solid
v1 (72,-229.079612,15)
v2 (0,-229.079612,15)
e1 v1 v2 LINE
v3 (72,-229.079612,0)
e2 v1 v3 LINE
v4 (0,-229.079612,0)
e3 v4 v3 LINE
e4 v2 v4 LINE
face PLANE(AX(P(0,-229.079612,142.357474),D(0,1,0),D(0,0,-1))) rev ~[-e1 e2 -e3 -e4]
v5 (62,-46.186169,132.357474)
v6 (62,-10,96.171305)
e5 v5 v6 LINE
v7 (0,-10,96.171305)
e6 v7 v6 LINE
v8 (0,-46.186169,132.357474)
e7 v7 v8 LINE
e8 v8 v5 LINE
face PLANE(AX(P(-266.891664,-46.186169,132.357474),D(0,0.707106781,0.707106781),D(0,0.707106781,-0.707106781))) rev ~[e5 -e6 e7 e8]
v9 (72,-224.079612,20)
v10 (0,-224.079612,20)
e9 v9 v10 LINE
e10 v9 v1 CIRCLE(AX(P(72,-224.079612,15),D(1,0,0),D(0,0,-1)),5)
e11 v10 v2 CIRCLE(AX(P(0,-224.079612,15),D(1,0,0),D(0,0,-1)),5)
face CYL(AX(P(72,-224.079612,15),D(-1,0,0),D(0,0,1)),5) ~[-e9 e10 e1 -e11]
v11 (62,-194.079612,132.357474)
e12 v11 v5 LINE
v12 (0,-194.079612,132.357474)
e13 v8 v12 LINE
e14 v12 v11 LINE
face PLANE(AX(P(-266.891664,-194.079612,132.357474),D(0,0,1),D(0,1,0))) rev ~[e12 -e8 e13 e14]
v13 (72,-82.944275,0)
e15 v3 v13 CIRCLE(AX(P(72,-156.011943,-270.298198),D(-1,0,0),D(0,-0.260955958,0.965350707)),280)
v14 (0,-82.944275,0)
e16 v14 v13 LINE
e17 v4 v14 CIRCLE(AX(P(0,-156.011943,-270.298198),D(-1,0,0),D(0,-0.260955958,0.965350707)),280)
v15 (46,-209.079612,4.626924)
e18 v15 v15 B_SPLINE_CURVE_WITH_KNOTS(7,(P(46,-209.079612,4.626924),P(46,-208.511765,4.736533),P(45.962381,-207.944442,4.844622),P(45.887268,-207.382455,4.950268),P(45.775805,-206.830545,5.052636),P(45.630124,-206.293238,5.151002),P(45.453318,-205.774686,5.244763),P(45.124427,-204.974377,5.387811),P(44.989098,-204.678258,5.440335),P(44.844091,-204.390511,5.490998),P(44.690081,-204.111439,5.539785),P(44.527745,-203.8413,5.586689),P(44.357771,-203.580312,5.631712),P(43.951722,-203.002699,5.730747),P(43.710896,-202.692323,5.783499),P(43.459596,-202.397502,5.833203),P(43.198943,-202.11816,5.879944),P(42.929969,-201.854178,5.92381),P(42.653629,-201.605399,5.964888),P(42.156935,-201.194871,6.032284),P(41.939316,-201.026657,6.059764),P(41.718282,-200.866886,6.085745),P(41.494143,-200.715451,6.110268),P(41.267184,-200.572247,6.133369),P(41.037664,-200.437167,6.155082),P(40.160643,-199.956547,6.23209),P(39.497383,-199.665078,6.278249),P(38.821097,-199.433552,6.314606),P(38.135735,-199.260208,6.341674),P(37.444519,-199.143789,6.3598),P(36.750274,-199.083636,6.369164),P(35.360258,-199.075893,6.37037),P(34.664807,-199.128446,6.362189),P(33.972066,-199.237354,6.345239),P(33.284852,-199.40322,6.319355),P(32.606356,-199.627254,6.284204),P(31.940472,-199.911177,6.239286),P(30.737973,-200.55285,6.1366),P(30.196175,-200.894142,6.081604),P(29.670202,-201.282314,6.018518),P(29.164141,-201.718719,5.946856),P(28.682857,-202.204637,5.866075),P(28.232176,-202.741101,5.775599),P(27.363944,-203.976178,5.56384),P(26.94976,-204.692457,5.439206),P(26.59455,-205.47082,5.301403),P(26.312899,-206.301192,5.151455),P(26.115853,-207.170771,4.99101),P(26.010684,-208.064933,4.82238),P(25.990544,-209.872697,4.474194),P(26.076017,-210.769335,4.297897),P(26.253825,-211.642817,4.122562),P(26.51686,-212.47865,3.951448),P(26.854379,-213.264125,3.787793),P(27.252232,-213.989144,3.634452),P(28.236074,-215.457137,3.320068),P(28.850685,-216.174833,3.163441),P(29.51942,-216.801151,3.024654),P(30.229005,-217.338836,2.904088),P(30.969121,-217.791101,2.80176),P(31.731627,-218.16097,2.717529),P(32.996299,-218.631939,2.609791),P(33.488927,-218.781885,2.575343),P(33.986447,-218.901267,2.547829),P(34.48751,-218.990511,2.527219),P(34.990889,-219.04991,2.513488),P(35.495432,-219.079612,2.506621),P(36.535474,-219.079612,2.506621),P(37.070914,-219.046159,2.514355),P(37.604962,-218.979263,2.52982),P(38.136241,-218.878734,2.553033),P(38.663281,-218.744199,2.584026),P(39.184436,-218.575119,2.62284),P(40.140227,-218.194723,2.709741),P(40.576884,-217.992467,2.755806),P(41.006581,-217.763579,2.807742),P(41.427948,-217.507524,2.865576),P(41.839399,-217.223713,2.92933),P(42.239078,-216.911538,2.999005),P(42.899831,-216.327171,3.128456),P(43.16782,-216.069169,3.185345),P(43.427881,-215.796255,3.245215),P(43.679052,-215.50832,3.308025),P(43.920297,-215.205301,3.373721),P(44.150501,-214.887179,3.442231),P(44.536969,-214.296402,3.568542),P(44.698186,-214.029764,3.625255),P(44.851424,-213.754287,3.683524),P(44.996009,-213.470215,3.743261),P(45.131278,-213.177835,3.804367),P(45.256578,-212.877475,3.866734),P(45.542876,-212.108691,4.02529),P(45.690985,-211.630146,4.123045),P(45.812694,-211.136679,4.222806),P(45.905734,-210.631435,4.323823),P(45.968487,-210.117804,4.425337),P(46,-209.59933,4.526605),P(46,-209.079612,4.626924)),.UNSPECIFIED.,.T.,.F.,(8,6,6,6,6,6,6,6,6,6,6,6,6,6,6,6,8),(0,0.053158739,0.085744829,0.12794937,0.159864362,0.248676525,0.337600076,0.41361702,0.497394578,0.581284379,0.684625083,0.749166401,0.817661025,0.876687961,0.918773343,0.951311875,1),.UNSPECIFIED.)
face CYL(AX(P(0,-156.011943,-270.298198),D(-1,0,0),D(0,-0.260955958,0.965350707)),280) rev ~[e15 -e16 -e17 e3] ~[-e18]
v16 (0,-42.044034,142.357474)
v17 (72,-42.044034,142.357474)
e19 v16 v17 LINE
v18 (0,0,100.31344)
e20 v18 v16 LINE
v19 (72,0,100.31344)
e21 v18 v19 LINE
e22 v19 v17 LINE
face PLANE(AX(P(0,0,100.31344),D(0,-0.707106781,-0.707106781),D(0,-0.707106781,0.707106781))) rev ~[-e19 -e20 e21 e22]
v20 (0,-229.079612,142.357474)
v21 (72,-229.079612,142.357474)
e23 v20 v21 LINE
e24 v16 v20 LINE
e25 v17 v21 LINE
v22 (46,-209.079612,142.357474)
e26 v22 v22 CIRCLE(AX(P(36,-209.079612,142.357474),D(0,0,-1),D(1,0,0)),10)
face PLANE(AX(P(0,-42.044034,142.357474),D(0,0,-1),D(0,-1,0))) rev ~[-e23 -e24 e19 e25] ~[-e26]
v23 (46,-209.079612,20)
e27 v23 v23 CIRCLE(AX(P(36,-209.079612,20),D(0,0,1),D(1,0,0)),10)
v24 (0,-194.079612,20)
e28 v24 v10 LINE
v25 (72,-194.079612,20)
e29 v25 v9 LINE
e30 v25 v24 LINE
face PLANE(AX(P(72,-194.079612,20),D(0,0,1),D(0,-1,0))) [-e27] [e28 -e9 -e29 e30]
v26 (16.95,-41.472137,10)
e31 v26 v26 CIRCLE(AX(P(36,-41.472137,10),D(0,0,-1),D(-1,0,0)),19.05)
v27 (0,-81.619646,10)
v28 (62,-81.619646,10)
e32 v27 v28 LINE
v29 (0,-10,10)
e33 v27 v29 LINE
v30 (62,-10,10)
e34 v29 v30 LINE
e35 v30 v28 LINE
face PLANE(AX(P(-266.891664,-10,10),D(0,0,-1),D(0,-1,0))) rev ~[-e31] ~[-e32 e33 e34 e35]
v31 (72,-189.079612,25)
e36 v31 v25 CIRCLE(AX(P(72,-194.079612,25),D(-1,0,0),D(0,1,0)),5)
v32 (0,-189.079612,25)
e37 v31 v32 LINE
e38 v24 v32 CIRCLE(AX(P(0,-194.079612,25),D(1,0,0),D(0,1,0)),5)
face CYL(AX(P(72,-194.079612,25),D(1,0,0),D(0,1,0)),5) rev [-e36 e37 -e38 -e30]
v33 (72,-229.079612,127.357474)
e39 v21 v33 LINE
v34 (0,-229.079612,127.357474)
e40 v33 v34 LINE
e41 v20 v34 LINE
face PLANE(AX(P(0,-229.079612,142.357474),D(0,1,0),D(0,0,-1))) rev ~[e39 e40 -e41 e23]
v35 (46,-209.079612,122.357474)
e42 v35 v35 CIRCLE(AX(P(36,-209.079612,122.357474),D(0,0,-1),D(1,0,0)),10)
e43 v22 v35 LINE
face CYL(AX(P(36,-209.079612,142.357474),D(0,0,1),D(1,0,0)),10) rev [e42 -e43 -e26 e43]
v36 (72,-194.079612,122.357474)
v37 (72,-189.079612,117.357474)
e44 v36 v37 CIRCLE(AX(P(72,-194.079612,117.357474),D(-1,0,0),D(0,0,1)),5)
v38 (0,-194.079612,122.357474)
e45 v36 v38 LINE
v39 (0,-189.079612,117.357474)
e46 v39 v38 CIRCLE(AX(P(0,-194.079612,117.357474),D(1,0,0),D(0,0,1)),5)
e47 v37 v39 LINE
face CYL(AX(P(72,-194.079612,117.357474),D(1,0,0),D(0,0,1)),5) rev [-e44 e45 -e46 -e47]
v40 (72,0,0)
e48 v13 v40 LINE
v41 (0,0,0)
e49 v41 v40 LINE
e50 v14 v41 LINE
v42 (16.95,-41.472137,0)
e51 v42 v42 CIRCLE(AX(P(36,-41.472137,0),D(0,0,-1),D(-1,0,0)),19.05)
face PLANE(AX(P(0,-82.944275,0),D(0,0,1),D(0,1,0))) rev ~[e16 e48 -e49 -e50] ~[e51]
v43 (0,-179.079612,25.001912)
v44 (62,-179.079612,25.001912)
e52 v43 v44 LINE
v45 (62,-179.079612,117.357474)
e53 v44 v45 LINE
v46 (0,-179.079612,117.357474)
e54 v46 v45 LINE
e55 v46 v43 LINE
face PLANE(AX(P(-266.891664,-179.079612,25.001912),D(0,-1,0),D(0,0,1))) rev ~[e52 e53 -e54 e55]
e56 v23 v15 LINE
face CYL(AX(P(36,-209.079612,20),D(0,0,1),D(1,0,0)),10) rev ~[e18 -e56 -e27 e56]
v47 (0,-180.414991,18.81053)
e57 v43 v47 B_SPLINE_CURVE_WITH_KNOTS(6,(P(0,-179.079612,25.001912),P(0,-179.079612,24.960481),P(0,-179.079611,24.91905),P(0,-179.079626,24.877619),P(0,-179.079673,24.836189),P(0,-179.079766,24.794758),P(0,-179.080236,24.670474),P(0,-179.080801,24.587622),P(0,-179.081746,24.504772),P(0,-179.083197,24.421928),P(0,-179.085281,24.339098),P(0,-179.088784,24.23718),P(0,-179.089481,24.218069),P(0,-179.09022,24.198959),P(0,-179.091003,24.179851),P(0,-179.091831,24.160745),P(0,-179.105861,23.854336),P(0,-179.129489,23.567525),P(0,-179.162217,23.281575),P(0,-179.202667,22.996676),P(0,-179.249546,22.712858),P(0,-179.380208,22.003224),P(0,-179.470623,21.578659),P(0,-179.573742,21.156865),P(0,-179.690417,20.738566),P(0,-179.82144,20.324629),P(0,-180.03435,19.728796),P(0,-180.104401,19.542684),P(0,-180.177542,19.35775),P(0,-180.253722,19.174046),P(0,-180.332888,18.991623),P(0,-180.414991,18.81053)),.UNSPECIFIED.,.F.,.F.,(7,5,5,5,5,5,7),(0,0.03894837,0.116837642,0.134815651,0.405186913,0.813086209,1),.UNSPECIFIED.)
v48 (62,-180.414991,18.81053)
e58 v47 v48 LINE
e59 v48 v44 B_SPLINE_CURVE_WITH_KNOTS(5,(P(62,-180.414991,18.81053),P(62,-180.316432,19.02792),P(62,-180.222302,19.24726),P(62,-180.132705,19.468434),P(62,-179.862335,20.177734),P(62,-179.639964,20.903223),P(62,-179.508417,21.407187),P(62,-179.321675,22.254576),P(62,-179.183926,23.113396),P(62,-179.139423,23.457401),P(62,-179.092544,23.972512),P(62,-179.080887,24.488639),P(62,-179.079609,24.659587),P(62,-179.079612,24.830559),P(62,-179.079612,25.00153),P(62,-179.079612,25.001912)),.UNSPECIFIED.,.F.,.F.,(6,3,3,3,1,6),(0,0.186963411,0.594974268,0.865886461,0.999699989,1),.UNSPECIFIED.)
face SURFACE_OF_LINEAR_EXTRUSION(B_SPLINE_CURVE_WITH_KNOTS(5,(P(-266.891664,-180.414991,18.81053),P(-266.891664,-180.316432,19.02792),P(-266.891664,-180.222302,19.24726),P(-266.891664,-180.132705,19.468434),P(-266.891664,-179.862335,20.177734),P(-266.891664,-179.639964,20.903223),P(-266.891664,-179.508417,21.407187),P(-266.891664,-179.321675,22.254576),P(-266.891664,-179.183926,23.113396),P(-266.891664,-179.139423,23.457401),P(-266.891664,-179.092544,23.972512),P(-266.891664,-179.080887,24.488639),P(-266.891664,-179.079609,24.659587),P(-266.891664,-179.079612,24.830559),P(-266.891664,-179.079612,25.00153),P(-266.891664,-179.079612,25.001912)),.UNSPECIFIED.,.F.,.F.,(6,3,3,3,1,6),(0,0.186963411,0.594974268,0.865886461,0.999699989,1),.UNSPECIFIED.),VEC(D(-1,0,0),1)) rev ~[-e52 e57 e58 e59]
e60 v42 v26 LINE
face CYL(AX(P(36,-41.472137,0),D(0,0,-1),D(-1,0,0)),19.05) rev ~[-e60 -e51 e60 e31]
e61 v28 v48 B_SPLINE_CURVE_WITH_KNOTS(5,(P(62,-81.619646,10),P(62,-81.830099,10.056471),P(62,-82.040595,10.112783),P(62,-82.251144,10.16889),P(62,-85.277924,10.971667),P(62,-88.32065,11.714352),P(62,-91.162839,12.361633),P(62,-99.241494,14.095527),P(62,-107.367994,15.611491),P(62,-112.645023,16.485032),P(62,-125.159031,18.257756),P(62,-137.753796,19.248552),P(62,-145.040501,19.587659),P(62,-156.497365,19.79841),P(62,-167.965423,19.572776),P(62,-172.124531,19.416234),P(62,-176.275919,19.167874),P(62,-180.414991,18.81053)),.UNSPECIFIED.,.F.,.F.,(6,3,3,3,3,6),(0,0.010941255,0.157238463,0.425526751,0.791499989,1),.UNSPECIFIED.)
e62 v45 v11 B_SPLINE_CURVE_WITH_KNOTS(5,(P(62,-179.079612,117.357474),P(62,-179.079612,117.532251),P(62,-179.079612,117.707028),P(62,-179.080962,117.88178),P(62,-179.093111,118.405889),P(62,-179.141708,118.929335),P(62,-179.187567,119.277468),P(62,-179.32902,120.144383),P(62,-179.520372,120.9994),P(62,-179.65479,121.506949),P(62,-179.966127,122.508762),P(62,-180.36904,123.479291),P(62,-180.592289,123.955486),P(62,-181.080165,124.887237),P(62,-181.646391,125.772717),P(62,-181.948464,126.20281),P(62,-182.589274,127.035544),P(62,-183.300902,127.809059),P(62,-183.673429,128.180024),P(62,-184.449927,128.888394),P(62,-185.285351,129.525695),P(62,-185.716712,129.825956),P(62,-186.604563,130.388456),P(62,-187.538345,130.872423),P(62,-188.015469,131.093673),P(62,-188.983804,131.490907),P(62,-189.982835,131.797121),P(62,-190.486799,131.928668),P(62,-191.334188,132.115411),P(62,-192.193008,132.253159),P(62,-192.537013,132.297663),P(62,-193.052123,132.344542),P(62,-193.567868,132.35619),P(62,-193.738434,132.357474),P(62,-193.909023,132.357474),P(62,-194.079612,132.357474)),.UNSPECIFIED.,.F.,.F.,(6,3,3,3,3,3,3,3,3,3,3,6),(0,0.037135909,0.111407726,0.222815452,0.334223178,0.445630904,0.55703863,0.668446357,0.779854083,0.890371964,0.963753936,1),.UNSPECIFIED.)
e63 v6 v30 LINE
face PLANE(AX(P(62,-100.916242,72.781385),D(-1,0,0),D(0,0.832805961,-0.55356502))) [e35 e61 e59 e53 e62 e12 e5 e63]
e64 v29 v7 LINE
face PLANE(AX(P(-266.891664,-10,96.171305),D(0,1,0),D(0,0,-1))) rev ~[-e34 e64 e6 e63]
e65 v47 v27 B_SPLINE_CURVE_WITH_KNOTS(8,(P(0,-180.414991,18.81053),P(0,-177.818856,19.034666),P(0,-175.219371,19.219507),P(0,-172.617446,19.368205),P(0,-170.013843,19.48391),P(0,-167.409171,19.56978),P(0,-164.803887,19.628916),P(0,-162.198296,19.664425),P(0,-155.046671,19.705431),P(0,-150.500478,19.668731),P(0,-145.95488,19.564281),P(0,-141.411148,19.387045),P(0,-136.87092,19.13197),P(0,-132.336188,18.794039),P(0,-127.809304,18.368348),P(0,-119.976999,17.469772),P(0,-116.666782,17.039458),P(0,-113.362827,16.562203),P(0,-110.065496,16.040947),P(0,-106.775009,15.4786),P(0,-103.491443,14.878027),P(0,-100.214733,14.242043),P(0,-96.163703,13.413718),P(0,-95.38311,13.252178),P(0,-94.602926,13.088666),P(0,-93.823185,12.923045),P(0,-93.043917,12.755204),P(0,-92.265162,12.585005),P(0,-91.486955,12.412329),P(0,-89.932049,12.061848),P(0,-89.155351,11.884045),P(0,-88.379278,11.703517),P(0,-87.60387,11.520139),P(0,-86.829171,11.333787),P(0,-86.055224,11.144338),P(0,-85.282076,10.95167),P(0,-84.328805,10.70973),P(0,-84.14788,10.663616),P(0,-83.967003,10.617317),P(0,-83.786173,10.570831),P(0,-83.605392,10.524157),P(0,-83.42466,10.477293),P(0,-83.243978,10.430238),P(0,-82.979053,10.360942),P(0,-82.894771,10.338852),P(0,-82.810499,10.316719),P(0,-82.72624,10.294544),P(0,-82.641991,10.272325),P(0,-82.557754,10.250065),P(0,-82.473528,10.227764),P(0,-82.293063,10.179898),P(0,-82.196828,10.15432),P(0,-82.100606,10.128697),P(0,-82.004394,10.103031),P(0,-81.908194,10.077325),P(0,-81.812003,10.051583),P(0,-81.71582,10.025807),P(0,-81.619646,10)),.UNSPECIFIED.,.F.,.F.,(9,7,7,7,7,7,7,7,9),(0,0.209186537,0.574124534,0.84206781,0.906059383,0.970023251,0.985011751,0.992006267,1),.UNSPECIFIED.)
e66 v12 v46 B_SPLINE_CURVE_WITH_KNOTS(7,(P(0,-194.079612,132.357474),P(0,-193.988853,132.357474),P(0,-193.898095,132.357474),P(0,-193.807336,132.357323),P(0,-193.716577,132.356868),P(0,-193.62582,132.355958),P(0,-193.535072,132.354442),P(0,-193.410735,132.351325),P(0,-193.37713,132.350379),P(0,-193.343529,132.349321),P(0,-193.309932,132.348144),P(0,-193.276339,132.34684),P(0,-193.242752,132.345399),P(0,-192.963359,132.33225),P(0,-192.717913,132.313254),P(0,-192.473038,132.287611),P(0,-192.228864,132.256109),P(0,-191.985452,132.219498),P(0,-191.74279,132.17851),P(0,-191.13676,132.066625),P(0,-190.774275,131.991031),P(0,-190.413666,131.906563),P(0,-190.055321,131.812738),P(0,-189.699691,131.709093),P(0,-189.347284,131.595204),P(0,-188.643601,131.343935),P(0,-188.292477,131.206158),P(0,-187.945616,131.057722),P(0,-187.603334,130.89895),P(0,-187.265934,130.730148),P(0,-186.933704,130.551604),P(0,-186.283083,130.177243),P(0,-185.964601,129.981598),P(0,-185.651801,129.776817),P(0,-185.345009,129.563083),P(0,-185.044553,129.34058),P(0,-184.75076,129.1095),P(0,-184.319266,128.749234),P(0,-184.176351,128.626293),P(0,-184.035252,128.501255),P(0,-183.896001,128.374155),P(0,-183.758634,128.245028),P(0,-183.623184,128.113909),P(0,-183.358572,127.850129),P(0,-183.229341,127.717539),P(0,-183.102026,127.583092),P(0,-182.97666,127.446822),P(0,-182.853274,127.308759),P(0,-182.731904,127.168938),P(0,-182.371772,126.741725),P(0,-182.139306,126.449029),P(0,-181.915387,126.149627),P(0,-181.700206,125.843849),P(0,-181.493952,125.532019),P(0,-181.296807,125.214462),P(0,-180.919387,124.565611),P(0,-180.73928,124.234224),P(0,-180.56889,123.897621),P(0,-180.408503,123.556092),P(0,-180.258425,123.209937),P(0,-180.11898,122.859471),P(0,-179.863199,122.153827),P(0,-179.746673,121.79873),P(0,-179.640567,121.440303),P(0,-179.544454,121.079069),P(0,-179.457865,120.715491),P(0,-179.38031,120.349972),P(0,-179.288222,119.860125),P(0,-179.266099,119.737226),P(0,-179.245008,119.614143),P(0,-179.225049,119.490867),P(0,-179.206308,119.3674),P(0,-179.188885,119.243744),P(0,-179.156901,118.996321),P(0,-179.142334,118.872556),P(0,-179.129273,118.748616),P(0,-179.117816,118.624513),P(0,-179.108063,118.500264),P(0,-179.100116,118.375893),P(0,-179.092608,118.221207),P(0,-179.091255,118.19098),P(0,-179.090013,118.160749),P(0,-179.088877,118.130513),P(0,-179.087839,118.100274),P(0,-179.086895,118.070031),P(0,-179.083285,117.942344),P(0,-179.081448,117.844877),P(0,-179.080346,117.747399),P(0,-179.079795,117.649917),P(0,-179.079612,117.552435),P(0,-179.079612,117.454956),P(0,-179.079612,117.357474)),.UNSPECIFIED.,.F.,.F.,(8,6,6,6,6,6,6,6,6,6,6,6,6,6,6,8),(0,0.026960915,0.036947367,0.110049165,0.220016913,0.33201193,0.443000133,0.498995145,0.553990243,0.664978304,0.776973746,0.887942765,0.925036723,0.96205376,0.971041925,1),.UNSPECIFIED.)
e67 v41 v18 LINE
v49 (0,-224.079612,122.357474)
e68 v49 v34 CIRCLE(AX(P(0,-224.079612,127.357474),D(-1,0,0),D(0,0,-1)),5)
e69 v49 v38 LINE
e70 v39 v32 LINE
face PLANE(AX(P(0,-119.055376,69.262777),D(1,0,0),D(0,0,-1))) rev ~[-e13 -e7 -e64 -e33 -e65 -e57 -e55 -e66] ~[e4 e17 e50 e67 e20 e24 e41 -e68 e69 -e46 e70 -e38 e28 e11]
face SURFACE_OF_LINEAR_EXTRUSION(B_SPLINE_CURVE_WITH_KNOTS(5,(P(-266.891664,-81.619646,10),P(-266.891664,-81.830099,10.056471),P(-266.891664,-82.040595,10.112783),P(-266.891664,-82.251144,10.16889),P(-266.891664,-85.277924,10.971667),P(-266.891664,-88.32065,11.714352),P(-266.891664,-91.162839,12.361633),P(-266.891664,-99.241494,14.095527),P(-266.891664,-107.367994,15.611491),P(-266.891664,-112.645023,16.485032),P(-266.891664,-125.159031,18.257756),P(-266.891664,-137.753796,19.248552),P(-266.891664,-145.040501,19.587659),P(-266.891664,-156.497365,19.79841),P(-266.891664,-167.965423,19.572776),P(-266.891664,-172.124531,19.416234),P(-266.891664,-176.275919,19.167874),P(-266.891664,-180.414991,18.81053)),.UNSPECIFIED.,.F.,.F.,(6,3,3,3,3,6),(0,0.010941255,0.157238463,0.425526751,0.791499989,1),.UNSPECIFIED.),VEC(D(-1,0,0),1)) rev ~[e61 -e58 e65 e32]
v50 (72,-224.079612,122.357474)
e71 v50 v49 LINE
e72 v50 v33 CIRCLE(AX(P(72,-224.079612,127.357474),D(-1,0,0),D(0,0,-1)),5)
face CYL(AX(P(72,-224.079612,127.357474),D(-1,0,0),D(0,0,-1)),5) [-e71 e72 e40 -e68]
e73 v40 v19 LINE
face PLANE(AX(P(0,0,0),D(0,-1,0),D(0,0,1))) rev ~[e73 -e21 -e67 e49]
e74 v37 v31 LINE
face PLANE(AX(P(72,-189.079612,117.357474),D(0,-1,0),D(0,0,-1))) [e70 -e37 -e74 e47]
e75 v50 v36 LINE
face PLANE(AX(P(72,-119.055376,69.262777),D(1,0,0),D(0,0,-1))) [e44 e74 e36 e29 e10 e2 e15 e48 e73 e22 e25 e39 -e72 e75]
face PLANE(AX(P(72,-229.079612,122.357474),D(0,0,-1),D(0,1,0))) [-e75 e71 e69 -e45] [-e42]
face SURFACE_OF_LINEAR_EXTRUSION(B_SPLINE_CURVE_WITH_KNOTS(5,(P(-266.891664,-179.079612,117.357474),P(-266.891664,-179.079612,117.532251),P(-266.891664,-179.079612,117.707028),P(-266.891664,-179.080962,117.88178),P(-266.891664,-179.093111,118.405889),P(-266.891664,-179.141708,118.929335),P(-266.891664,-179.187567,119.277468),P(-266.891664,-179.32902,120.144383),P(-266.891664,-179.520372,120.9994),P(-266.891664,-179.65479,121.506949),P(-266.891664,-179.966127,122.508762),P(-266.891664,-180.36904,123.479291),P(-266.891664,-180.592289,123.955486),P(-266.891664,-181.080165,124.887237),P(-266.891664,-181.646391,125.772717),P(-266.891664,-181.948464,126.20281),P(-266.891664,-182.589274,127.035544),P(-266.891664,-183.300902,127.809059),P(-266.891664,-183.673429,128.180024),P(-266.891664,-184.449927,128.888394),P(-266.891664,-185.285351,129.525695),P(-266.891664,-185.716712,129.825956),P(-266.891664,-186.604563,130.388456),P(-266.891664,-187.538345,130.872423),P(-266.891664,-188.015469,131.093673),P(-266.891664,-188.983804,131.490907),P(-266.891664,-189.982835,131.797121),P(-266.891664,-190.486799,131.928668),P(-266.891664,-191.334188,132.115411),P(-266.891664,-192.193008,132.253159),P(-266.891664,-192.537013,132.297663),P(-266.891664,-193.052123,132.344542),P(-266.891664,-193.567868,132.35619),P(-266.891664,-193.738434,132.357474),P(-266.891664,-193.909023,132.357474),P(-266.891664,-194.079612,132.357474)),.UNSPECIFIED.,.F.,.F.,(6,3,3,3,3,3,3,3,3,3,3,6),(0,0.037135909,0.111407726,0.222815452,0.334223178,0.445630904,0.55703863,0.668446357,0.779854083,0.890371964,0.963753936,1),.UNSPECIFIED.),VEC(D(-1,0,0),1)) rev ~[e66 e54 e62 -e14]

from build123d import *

# Parameters (mm, degrees)
BOSS_EXTRUDE1_DEPTH     = 72
SKETCH4_R               = 19.05
CUT_EXTRUDE1_DEPTH      = 15
CUT_EXTRUDE2_DEPTH      = 280.154292263
CUT_EXTRUDE2_DEPTH_BACK = 72
FILLET2_R               = 5
FILLET3_R               = 5
SKETCH7_R               = 10
CUT_EXTRUDE3_DEPTH      = 20
CUT_EXTRUDE4_START      = -20
SKETCH8_R               = 10
CUT_EXTRUDE4_DEPTH      = 20
CUT_EXTRUDE5_DEPTH      = 62
CUT_EXTRUDE5_DEPTH_BACK = 266.891664466


with BuildPart() as part:
    # Sketch3 → Boss-Extrude1 (new body)
    with BuildSketch(Plane(origin=(0, 0, 0), x_dir=(0, 0, -1), z_dir=(1, 0, 0))):
        with BuildLine():
            Line((0, 0), (-100.313440323, 0))
            Line((-100.313440323, 0), (-142.357474116, -42.044033793))
            Line((-142.357474116, -42.044033793), (-142.357474116, -229.079611603))
            Line((-142.357474116, -229.079611603), (0, -229.079611603))
            ThreePointArc((0, -229.079611603), (-9.701802008, -156.011943225), (0, -82.944274847))
            Line((0, -82.944274847), (0, 0))
        make_face()
    extrude(amount=BOSS_EXTRUDE1_DEPTH)

    # Sketch4 → Cut-Extrude1 (cut)
    with BuildSketch(Plane(origin=(0, 0, 0), x_dir=(-1, 0, 0), z_dir=(0, 0, -1))):
        with Locations((-36, -41.472137424)):
            Circle(SKETCH4_R)
    extrude(amount=-CUT_EXTRUDE1_DEPTH, mode=Mode.SUBTRACT)

    # Sketch6 → Cut-Extrude2 (cut, two sides: drawn at the far end of the back side and taken through both)
    with BuildSketch(Plane.ZY.offset(-CUT_EXTRUDE2_DEPTH_BACK)):
        with BuildLine():
            Line((20, -194.079611603), (20, -229.079611603))
            Line((20, -229.079611603), (122.357474116, -229.079611603))
            Line((122.357474116, -229.079611603), (122.357474116, -194.079611603))
            ThreePointArc((122.357474116, -194.079611603), (120.893008022, -190.544077697), (117.357474116, -189.079611603))
            Line((117.357474116, -189.079611603), (25, -189.079611603))
            ThreePointArc((25, -189.079611603), (21.464466094, -190.544077697), (20, -194.079611603))
        make_face()
    extrude(amount=CUT_EXTRUDE2_DEPTH + CUT_EXTRUDE2_DEPTH_BACK, mode=Mode.SUBTRACT)

    # Fillet2
    fillet2_edges = [part.edges().sort_by_distance(p)[0] for p in [
        (36, -229.079611603, 122.357474116),
    ]]
    fillet(fillet2_edges, radius=FILLET2_R)

    # Fillet3
    fillet3_edges = [part.edges().sort_by_distance(p)[0] for p in [
        (36, -229.079611603, 20),
    ]]
    fillet(fillet3_edges, radius=FILLET3_R)

    # Sketch7 → Cut-Extrude3 (cut)
    with BuildSketch(Plane.XY.offset(20)):
        with Locations((36, -209.079611603)):
            Circle(SKETCH7_R)
    extrude(amount=-CUT_EXTRUDE3_DEPTH, mode=Mode.SUBTRACT)

    # Sketch8 → Cut-Extrude4 (cut)
    with BuildSketch(Plane(origin=(0, 0, 122.357474116), x_dir=(-1, 0, 0), z_dir=(0, 0, -1)).offset(CUT_EXTRUDE4_START)):
        with Locations(Location((-36, -209.079611603, 0), (0, 0, 180))):
            Circle(SKETCH8_R)
    extrude(amount=CUT_EXTRUDE4_DEPTH, mode=Mode.SUBTRACT)

    # 3DSketch1 → Cut-Extrude5 (cut, two sides: drawn at the far end of the back side and taken through both)
    with BuildSketch(Plane(origin=(0, -10, 10), x_dir=(0, -0.8328059611361112, 0.5535650197548234), z_dir=(1, 0, 0)).offset(-CUT_EXTRUDE5_DEPTH_BACK)):
        with BuildLine():
            Line((0, 0), (59.645268452, 39.646130972))
            add(Edge.make_bspline(
                [(59.645268452, 39.646130972), (59.851795376, 39.715600731), (60.058269091, 39.785227228), (60.264675078, 39.855053234), (63.229785209, 40.86201534), (66.17490971, 41.927849195), (68.900213672, 42.962126659), (76.587988483, 45.990190363), (84.19497116, 49.226232383), (89.073273504, 51.419920765), (100.476332318, 56.870903082), (111.513798328, 63.017783233), (117.769927201, 66.769037831), (127.427935538, 72.935642789), (136.853699774, 79.471867671), (140.230773606, 81.904573636), (143.55059138, 84.409472242), (146.799821395, 86.998315475)],
                knots=[0, 0, 0, 0, 0, 0, 0.010941255, 0.010941255, 0.010941255, 0.157238463, 0.157238463, 0.157238463, 0.425526751, 0.425526751, 0.425526751, 0.791499989, 0.791499989, 0.791499989, 1, 1, 1, 1, 1, 1], degree=5))
            add(Edge.make_bspline(
                [(146.799821395, 86.998315475), (146.838080386, 86.762713184), (146.881107812, 86.527938496), (146.928924899, 86.294146385), (147.096403086, 85.553769019), (147.312816425, 84.826481066), (147.482240174, 84.333957214), (147.795805007, 83.524872282), (148.156499747, 82.733389058), (148.30986597, 82.422264084), (148.555972143, 81.967326058), (148.831974102, 81.531039473), (148.925540772, 81.387965286), (149.020186904, 81.245580943), (149.114830616, 81.103195054), (149.115042333, 81.102876537)],
                knots=[0, 0, 0, 0, 0, 0, 0.186963411, 0.186963411, 0.186963411, 0.594974268, 0.594974268, 0.594974268, 0.865886461, 0.865886461, 0.865886461, 0.999699989, 1, 1, 1, 1, 1, 1], degree=5))
            Line((149.115042333, 81.102876537), (200.239850729, 4.188614121))
            add(Edge.make_bspline(
                [(200.239850729, 4.188614121), (200.33660104, 4.043058978), (200.433351351, 3.897503835), (200.531212292, 3.752716424), (200.831458899, 3.322960579), (201.161692533, 2.913933484), (201.392598415, 2.649392187), (201.990294831, 2.005724158), (202.622961514, 1.399585759), (203.015866658, 1.051305446), (203.829718887, 0.389334387), (204.702518346, -0.195889299), (205.152045635, -0.468884344), (206.074136833, -0.974780932), (207.035864281, -1.398770698), (207.525516965, -1.589737739), (208.520160048, -1.92851386), (209.540998156, -2.178769515), (210.056594039, -2.281493418), (211.095395611, -2.441585761), (212.14392909, -2.509871945), (212.669382635, -2.521145098), (213.720170989, -2.498114724), (214.765737187, -2.384257389), (215.285564899, -2.304395964), (216.311894633, -2.099178413), (217.313403497, -1.80116732), (217.805927348, -1.631743571), (218.615012281, -1.318178739), (219.406495505, -0.957483999), (219.717620478, -0.804117776), (220.172558504, -0.558011603), (220.608521923, -0.282214084), (220.751280697, -0.188863989), (220.89334807, -0.094431995), (221.035415443, 0)],
                knots=[0, 0, 0, 0, 0, 0, 0.037135909, 0.037135909, 0.037135909, 0.111407726, 0.111407726, 0.111407726, 0.222815452, 0.222815452, 0.222815452, 0.334223178, 0.334223178, 0.334223178, 0.445630904, 0.445630904, 0.445630904, 0.55703863, 0.55703863, 0.55703863, 0.668446357, 0.668446357, 0.668446357, 0.779854083, 0.779854083, 0.779854083, 0.890371964, 0.890371964, 0.890371964, 0.963753936, 0.963753936, 0.963753936, 1, 1, 1, 1, 1, 1], degree=5))
            Line((221.035415443, 0), (97.868875178, -81.868636245))
            Line((97.868875178, -81.868636245), (47.701419988, -71.763976232))
            Line((47.701419988, -71.763976232), (0, 0))
        make_face()
    extrude(amount=CUT_EXTRUDE5_DEPTH + CUT_EXTRUDE5_DEPTH_BACK, mode=Mode.SUBTRACT)


solid = part.part
